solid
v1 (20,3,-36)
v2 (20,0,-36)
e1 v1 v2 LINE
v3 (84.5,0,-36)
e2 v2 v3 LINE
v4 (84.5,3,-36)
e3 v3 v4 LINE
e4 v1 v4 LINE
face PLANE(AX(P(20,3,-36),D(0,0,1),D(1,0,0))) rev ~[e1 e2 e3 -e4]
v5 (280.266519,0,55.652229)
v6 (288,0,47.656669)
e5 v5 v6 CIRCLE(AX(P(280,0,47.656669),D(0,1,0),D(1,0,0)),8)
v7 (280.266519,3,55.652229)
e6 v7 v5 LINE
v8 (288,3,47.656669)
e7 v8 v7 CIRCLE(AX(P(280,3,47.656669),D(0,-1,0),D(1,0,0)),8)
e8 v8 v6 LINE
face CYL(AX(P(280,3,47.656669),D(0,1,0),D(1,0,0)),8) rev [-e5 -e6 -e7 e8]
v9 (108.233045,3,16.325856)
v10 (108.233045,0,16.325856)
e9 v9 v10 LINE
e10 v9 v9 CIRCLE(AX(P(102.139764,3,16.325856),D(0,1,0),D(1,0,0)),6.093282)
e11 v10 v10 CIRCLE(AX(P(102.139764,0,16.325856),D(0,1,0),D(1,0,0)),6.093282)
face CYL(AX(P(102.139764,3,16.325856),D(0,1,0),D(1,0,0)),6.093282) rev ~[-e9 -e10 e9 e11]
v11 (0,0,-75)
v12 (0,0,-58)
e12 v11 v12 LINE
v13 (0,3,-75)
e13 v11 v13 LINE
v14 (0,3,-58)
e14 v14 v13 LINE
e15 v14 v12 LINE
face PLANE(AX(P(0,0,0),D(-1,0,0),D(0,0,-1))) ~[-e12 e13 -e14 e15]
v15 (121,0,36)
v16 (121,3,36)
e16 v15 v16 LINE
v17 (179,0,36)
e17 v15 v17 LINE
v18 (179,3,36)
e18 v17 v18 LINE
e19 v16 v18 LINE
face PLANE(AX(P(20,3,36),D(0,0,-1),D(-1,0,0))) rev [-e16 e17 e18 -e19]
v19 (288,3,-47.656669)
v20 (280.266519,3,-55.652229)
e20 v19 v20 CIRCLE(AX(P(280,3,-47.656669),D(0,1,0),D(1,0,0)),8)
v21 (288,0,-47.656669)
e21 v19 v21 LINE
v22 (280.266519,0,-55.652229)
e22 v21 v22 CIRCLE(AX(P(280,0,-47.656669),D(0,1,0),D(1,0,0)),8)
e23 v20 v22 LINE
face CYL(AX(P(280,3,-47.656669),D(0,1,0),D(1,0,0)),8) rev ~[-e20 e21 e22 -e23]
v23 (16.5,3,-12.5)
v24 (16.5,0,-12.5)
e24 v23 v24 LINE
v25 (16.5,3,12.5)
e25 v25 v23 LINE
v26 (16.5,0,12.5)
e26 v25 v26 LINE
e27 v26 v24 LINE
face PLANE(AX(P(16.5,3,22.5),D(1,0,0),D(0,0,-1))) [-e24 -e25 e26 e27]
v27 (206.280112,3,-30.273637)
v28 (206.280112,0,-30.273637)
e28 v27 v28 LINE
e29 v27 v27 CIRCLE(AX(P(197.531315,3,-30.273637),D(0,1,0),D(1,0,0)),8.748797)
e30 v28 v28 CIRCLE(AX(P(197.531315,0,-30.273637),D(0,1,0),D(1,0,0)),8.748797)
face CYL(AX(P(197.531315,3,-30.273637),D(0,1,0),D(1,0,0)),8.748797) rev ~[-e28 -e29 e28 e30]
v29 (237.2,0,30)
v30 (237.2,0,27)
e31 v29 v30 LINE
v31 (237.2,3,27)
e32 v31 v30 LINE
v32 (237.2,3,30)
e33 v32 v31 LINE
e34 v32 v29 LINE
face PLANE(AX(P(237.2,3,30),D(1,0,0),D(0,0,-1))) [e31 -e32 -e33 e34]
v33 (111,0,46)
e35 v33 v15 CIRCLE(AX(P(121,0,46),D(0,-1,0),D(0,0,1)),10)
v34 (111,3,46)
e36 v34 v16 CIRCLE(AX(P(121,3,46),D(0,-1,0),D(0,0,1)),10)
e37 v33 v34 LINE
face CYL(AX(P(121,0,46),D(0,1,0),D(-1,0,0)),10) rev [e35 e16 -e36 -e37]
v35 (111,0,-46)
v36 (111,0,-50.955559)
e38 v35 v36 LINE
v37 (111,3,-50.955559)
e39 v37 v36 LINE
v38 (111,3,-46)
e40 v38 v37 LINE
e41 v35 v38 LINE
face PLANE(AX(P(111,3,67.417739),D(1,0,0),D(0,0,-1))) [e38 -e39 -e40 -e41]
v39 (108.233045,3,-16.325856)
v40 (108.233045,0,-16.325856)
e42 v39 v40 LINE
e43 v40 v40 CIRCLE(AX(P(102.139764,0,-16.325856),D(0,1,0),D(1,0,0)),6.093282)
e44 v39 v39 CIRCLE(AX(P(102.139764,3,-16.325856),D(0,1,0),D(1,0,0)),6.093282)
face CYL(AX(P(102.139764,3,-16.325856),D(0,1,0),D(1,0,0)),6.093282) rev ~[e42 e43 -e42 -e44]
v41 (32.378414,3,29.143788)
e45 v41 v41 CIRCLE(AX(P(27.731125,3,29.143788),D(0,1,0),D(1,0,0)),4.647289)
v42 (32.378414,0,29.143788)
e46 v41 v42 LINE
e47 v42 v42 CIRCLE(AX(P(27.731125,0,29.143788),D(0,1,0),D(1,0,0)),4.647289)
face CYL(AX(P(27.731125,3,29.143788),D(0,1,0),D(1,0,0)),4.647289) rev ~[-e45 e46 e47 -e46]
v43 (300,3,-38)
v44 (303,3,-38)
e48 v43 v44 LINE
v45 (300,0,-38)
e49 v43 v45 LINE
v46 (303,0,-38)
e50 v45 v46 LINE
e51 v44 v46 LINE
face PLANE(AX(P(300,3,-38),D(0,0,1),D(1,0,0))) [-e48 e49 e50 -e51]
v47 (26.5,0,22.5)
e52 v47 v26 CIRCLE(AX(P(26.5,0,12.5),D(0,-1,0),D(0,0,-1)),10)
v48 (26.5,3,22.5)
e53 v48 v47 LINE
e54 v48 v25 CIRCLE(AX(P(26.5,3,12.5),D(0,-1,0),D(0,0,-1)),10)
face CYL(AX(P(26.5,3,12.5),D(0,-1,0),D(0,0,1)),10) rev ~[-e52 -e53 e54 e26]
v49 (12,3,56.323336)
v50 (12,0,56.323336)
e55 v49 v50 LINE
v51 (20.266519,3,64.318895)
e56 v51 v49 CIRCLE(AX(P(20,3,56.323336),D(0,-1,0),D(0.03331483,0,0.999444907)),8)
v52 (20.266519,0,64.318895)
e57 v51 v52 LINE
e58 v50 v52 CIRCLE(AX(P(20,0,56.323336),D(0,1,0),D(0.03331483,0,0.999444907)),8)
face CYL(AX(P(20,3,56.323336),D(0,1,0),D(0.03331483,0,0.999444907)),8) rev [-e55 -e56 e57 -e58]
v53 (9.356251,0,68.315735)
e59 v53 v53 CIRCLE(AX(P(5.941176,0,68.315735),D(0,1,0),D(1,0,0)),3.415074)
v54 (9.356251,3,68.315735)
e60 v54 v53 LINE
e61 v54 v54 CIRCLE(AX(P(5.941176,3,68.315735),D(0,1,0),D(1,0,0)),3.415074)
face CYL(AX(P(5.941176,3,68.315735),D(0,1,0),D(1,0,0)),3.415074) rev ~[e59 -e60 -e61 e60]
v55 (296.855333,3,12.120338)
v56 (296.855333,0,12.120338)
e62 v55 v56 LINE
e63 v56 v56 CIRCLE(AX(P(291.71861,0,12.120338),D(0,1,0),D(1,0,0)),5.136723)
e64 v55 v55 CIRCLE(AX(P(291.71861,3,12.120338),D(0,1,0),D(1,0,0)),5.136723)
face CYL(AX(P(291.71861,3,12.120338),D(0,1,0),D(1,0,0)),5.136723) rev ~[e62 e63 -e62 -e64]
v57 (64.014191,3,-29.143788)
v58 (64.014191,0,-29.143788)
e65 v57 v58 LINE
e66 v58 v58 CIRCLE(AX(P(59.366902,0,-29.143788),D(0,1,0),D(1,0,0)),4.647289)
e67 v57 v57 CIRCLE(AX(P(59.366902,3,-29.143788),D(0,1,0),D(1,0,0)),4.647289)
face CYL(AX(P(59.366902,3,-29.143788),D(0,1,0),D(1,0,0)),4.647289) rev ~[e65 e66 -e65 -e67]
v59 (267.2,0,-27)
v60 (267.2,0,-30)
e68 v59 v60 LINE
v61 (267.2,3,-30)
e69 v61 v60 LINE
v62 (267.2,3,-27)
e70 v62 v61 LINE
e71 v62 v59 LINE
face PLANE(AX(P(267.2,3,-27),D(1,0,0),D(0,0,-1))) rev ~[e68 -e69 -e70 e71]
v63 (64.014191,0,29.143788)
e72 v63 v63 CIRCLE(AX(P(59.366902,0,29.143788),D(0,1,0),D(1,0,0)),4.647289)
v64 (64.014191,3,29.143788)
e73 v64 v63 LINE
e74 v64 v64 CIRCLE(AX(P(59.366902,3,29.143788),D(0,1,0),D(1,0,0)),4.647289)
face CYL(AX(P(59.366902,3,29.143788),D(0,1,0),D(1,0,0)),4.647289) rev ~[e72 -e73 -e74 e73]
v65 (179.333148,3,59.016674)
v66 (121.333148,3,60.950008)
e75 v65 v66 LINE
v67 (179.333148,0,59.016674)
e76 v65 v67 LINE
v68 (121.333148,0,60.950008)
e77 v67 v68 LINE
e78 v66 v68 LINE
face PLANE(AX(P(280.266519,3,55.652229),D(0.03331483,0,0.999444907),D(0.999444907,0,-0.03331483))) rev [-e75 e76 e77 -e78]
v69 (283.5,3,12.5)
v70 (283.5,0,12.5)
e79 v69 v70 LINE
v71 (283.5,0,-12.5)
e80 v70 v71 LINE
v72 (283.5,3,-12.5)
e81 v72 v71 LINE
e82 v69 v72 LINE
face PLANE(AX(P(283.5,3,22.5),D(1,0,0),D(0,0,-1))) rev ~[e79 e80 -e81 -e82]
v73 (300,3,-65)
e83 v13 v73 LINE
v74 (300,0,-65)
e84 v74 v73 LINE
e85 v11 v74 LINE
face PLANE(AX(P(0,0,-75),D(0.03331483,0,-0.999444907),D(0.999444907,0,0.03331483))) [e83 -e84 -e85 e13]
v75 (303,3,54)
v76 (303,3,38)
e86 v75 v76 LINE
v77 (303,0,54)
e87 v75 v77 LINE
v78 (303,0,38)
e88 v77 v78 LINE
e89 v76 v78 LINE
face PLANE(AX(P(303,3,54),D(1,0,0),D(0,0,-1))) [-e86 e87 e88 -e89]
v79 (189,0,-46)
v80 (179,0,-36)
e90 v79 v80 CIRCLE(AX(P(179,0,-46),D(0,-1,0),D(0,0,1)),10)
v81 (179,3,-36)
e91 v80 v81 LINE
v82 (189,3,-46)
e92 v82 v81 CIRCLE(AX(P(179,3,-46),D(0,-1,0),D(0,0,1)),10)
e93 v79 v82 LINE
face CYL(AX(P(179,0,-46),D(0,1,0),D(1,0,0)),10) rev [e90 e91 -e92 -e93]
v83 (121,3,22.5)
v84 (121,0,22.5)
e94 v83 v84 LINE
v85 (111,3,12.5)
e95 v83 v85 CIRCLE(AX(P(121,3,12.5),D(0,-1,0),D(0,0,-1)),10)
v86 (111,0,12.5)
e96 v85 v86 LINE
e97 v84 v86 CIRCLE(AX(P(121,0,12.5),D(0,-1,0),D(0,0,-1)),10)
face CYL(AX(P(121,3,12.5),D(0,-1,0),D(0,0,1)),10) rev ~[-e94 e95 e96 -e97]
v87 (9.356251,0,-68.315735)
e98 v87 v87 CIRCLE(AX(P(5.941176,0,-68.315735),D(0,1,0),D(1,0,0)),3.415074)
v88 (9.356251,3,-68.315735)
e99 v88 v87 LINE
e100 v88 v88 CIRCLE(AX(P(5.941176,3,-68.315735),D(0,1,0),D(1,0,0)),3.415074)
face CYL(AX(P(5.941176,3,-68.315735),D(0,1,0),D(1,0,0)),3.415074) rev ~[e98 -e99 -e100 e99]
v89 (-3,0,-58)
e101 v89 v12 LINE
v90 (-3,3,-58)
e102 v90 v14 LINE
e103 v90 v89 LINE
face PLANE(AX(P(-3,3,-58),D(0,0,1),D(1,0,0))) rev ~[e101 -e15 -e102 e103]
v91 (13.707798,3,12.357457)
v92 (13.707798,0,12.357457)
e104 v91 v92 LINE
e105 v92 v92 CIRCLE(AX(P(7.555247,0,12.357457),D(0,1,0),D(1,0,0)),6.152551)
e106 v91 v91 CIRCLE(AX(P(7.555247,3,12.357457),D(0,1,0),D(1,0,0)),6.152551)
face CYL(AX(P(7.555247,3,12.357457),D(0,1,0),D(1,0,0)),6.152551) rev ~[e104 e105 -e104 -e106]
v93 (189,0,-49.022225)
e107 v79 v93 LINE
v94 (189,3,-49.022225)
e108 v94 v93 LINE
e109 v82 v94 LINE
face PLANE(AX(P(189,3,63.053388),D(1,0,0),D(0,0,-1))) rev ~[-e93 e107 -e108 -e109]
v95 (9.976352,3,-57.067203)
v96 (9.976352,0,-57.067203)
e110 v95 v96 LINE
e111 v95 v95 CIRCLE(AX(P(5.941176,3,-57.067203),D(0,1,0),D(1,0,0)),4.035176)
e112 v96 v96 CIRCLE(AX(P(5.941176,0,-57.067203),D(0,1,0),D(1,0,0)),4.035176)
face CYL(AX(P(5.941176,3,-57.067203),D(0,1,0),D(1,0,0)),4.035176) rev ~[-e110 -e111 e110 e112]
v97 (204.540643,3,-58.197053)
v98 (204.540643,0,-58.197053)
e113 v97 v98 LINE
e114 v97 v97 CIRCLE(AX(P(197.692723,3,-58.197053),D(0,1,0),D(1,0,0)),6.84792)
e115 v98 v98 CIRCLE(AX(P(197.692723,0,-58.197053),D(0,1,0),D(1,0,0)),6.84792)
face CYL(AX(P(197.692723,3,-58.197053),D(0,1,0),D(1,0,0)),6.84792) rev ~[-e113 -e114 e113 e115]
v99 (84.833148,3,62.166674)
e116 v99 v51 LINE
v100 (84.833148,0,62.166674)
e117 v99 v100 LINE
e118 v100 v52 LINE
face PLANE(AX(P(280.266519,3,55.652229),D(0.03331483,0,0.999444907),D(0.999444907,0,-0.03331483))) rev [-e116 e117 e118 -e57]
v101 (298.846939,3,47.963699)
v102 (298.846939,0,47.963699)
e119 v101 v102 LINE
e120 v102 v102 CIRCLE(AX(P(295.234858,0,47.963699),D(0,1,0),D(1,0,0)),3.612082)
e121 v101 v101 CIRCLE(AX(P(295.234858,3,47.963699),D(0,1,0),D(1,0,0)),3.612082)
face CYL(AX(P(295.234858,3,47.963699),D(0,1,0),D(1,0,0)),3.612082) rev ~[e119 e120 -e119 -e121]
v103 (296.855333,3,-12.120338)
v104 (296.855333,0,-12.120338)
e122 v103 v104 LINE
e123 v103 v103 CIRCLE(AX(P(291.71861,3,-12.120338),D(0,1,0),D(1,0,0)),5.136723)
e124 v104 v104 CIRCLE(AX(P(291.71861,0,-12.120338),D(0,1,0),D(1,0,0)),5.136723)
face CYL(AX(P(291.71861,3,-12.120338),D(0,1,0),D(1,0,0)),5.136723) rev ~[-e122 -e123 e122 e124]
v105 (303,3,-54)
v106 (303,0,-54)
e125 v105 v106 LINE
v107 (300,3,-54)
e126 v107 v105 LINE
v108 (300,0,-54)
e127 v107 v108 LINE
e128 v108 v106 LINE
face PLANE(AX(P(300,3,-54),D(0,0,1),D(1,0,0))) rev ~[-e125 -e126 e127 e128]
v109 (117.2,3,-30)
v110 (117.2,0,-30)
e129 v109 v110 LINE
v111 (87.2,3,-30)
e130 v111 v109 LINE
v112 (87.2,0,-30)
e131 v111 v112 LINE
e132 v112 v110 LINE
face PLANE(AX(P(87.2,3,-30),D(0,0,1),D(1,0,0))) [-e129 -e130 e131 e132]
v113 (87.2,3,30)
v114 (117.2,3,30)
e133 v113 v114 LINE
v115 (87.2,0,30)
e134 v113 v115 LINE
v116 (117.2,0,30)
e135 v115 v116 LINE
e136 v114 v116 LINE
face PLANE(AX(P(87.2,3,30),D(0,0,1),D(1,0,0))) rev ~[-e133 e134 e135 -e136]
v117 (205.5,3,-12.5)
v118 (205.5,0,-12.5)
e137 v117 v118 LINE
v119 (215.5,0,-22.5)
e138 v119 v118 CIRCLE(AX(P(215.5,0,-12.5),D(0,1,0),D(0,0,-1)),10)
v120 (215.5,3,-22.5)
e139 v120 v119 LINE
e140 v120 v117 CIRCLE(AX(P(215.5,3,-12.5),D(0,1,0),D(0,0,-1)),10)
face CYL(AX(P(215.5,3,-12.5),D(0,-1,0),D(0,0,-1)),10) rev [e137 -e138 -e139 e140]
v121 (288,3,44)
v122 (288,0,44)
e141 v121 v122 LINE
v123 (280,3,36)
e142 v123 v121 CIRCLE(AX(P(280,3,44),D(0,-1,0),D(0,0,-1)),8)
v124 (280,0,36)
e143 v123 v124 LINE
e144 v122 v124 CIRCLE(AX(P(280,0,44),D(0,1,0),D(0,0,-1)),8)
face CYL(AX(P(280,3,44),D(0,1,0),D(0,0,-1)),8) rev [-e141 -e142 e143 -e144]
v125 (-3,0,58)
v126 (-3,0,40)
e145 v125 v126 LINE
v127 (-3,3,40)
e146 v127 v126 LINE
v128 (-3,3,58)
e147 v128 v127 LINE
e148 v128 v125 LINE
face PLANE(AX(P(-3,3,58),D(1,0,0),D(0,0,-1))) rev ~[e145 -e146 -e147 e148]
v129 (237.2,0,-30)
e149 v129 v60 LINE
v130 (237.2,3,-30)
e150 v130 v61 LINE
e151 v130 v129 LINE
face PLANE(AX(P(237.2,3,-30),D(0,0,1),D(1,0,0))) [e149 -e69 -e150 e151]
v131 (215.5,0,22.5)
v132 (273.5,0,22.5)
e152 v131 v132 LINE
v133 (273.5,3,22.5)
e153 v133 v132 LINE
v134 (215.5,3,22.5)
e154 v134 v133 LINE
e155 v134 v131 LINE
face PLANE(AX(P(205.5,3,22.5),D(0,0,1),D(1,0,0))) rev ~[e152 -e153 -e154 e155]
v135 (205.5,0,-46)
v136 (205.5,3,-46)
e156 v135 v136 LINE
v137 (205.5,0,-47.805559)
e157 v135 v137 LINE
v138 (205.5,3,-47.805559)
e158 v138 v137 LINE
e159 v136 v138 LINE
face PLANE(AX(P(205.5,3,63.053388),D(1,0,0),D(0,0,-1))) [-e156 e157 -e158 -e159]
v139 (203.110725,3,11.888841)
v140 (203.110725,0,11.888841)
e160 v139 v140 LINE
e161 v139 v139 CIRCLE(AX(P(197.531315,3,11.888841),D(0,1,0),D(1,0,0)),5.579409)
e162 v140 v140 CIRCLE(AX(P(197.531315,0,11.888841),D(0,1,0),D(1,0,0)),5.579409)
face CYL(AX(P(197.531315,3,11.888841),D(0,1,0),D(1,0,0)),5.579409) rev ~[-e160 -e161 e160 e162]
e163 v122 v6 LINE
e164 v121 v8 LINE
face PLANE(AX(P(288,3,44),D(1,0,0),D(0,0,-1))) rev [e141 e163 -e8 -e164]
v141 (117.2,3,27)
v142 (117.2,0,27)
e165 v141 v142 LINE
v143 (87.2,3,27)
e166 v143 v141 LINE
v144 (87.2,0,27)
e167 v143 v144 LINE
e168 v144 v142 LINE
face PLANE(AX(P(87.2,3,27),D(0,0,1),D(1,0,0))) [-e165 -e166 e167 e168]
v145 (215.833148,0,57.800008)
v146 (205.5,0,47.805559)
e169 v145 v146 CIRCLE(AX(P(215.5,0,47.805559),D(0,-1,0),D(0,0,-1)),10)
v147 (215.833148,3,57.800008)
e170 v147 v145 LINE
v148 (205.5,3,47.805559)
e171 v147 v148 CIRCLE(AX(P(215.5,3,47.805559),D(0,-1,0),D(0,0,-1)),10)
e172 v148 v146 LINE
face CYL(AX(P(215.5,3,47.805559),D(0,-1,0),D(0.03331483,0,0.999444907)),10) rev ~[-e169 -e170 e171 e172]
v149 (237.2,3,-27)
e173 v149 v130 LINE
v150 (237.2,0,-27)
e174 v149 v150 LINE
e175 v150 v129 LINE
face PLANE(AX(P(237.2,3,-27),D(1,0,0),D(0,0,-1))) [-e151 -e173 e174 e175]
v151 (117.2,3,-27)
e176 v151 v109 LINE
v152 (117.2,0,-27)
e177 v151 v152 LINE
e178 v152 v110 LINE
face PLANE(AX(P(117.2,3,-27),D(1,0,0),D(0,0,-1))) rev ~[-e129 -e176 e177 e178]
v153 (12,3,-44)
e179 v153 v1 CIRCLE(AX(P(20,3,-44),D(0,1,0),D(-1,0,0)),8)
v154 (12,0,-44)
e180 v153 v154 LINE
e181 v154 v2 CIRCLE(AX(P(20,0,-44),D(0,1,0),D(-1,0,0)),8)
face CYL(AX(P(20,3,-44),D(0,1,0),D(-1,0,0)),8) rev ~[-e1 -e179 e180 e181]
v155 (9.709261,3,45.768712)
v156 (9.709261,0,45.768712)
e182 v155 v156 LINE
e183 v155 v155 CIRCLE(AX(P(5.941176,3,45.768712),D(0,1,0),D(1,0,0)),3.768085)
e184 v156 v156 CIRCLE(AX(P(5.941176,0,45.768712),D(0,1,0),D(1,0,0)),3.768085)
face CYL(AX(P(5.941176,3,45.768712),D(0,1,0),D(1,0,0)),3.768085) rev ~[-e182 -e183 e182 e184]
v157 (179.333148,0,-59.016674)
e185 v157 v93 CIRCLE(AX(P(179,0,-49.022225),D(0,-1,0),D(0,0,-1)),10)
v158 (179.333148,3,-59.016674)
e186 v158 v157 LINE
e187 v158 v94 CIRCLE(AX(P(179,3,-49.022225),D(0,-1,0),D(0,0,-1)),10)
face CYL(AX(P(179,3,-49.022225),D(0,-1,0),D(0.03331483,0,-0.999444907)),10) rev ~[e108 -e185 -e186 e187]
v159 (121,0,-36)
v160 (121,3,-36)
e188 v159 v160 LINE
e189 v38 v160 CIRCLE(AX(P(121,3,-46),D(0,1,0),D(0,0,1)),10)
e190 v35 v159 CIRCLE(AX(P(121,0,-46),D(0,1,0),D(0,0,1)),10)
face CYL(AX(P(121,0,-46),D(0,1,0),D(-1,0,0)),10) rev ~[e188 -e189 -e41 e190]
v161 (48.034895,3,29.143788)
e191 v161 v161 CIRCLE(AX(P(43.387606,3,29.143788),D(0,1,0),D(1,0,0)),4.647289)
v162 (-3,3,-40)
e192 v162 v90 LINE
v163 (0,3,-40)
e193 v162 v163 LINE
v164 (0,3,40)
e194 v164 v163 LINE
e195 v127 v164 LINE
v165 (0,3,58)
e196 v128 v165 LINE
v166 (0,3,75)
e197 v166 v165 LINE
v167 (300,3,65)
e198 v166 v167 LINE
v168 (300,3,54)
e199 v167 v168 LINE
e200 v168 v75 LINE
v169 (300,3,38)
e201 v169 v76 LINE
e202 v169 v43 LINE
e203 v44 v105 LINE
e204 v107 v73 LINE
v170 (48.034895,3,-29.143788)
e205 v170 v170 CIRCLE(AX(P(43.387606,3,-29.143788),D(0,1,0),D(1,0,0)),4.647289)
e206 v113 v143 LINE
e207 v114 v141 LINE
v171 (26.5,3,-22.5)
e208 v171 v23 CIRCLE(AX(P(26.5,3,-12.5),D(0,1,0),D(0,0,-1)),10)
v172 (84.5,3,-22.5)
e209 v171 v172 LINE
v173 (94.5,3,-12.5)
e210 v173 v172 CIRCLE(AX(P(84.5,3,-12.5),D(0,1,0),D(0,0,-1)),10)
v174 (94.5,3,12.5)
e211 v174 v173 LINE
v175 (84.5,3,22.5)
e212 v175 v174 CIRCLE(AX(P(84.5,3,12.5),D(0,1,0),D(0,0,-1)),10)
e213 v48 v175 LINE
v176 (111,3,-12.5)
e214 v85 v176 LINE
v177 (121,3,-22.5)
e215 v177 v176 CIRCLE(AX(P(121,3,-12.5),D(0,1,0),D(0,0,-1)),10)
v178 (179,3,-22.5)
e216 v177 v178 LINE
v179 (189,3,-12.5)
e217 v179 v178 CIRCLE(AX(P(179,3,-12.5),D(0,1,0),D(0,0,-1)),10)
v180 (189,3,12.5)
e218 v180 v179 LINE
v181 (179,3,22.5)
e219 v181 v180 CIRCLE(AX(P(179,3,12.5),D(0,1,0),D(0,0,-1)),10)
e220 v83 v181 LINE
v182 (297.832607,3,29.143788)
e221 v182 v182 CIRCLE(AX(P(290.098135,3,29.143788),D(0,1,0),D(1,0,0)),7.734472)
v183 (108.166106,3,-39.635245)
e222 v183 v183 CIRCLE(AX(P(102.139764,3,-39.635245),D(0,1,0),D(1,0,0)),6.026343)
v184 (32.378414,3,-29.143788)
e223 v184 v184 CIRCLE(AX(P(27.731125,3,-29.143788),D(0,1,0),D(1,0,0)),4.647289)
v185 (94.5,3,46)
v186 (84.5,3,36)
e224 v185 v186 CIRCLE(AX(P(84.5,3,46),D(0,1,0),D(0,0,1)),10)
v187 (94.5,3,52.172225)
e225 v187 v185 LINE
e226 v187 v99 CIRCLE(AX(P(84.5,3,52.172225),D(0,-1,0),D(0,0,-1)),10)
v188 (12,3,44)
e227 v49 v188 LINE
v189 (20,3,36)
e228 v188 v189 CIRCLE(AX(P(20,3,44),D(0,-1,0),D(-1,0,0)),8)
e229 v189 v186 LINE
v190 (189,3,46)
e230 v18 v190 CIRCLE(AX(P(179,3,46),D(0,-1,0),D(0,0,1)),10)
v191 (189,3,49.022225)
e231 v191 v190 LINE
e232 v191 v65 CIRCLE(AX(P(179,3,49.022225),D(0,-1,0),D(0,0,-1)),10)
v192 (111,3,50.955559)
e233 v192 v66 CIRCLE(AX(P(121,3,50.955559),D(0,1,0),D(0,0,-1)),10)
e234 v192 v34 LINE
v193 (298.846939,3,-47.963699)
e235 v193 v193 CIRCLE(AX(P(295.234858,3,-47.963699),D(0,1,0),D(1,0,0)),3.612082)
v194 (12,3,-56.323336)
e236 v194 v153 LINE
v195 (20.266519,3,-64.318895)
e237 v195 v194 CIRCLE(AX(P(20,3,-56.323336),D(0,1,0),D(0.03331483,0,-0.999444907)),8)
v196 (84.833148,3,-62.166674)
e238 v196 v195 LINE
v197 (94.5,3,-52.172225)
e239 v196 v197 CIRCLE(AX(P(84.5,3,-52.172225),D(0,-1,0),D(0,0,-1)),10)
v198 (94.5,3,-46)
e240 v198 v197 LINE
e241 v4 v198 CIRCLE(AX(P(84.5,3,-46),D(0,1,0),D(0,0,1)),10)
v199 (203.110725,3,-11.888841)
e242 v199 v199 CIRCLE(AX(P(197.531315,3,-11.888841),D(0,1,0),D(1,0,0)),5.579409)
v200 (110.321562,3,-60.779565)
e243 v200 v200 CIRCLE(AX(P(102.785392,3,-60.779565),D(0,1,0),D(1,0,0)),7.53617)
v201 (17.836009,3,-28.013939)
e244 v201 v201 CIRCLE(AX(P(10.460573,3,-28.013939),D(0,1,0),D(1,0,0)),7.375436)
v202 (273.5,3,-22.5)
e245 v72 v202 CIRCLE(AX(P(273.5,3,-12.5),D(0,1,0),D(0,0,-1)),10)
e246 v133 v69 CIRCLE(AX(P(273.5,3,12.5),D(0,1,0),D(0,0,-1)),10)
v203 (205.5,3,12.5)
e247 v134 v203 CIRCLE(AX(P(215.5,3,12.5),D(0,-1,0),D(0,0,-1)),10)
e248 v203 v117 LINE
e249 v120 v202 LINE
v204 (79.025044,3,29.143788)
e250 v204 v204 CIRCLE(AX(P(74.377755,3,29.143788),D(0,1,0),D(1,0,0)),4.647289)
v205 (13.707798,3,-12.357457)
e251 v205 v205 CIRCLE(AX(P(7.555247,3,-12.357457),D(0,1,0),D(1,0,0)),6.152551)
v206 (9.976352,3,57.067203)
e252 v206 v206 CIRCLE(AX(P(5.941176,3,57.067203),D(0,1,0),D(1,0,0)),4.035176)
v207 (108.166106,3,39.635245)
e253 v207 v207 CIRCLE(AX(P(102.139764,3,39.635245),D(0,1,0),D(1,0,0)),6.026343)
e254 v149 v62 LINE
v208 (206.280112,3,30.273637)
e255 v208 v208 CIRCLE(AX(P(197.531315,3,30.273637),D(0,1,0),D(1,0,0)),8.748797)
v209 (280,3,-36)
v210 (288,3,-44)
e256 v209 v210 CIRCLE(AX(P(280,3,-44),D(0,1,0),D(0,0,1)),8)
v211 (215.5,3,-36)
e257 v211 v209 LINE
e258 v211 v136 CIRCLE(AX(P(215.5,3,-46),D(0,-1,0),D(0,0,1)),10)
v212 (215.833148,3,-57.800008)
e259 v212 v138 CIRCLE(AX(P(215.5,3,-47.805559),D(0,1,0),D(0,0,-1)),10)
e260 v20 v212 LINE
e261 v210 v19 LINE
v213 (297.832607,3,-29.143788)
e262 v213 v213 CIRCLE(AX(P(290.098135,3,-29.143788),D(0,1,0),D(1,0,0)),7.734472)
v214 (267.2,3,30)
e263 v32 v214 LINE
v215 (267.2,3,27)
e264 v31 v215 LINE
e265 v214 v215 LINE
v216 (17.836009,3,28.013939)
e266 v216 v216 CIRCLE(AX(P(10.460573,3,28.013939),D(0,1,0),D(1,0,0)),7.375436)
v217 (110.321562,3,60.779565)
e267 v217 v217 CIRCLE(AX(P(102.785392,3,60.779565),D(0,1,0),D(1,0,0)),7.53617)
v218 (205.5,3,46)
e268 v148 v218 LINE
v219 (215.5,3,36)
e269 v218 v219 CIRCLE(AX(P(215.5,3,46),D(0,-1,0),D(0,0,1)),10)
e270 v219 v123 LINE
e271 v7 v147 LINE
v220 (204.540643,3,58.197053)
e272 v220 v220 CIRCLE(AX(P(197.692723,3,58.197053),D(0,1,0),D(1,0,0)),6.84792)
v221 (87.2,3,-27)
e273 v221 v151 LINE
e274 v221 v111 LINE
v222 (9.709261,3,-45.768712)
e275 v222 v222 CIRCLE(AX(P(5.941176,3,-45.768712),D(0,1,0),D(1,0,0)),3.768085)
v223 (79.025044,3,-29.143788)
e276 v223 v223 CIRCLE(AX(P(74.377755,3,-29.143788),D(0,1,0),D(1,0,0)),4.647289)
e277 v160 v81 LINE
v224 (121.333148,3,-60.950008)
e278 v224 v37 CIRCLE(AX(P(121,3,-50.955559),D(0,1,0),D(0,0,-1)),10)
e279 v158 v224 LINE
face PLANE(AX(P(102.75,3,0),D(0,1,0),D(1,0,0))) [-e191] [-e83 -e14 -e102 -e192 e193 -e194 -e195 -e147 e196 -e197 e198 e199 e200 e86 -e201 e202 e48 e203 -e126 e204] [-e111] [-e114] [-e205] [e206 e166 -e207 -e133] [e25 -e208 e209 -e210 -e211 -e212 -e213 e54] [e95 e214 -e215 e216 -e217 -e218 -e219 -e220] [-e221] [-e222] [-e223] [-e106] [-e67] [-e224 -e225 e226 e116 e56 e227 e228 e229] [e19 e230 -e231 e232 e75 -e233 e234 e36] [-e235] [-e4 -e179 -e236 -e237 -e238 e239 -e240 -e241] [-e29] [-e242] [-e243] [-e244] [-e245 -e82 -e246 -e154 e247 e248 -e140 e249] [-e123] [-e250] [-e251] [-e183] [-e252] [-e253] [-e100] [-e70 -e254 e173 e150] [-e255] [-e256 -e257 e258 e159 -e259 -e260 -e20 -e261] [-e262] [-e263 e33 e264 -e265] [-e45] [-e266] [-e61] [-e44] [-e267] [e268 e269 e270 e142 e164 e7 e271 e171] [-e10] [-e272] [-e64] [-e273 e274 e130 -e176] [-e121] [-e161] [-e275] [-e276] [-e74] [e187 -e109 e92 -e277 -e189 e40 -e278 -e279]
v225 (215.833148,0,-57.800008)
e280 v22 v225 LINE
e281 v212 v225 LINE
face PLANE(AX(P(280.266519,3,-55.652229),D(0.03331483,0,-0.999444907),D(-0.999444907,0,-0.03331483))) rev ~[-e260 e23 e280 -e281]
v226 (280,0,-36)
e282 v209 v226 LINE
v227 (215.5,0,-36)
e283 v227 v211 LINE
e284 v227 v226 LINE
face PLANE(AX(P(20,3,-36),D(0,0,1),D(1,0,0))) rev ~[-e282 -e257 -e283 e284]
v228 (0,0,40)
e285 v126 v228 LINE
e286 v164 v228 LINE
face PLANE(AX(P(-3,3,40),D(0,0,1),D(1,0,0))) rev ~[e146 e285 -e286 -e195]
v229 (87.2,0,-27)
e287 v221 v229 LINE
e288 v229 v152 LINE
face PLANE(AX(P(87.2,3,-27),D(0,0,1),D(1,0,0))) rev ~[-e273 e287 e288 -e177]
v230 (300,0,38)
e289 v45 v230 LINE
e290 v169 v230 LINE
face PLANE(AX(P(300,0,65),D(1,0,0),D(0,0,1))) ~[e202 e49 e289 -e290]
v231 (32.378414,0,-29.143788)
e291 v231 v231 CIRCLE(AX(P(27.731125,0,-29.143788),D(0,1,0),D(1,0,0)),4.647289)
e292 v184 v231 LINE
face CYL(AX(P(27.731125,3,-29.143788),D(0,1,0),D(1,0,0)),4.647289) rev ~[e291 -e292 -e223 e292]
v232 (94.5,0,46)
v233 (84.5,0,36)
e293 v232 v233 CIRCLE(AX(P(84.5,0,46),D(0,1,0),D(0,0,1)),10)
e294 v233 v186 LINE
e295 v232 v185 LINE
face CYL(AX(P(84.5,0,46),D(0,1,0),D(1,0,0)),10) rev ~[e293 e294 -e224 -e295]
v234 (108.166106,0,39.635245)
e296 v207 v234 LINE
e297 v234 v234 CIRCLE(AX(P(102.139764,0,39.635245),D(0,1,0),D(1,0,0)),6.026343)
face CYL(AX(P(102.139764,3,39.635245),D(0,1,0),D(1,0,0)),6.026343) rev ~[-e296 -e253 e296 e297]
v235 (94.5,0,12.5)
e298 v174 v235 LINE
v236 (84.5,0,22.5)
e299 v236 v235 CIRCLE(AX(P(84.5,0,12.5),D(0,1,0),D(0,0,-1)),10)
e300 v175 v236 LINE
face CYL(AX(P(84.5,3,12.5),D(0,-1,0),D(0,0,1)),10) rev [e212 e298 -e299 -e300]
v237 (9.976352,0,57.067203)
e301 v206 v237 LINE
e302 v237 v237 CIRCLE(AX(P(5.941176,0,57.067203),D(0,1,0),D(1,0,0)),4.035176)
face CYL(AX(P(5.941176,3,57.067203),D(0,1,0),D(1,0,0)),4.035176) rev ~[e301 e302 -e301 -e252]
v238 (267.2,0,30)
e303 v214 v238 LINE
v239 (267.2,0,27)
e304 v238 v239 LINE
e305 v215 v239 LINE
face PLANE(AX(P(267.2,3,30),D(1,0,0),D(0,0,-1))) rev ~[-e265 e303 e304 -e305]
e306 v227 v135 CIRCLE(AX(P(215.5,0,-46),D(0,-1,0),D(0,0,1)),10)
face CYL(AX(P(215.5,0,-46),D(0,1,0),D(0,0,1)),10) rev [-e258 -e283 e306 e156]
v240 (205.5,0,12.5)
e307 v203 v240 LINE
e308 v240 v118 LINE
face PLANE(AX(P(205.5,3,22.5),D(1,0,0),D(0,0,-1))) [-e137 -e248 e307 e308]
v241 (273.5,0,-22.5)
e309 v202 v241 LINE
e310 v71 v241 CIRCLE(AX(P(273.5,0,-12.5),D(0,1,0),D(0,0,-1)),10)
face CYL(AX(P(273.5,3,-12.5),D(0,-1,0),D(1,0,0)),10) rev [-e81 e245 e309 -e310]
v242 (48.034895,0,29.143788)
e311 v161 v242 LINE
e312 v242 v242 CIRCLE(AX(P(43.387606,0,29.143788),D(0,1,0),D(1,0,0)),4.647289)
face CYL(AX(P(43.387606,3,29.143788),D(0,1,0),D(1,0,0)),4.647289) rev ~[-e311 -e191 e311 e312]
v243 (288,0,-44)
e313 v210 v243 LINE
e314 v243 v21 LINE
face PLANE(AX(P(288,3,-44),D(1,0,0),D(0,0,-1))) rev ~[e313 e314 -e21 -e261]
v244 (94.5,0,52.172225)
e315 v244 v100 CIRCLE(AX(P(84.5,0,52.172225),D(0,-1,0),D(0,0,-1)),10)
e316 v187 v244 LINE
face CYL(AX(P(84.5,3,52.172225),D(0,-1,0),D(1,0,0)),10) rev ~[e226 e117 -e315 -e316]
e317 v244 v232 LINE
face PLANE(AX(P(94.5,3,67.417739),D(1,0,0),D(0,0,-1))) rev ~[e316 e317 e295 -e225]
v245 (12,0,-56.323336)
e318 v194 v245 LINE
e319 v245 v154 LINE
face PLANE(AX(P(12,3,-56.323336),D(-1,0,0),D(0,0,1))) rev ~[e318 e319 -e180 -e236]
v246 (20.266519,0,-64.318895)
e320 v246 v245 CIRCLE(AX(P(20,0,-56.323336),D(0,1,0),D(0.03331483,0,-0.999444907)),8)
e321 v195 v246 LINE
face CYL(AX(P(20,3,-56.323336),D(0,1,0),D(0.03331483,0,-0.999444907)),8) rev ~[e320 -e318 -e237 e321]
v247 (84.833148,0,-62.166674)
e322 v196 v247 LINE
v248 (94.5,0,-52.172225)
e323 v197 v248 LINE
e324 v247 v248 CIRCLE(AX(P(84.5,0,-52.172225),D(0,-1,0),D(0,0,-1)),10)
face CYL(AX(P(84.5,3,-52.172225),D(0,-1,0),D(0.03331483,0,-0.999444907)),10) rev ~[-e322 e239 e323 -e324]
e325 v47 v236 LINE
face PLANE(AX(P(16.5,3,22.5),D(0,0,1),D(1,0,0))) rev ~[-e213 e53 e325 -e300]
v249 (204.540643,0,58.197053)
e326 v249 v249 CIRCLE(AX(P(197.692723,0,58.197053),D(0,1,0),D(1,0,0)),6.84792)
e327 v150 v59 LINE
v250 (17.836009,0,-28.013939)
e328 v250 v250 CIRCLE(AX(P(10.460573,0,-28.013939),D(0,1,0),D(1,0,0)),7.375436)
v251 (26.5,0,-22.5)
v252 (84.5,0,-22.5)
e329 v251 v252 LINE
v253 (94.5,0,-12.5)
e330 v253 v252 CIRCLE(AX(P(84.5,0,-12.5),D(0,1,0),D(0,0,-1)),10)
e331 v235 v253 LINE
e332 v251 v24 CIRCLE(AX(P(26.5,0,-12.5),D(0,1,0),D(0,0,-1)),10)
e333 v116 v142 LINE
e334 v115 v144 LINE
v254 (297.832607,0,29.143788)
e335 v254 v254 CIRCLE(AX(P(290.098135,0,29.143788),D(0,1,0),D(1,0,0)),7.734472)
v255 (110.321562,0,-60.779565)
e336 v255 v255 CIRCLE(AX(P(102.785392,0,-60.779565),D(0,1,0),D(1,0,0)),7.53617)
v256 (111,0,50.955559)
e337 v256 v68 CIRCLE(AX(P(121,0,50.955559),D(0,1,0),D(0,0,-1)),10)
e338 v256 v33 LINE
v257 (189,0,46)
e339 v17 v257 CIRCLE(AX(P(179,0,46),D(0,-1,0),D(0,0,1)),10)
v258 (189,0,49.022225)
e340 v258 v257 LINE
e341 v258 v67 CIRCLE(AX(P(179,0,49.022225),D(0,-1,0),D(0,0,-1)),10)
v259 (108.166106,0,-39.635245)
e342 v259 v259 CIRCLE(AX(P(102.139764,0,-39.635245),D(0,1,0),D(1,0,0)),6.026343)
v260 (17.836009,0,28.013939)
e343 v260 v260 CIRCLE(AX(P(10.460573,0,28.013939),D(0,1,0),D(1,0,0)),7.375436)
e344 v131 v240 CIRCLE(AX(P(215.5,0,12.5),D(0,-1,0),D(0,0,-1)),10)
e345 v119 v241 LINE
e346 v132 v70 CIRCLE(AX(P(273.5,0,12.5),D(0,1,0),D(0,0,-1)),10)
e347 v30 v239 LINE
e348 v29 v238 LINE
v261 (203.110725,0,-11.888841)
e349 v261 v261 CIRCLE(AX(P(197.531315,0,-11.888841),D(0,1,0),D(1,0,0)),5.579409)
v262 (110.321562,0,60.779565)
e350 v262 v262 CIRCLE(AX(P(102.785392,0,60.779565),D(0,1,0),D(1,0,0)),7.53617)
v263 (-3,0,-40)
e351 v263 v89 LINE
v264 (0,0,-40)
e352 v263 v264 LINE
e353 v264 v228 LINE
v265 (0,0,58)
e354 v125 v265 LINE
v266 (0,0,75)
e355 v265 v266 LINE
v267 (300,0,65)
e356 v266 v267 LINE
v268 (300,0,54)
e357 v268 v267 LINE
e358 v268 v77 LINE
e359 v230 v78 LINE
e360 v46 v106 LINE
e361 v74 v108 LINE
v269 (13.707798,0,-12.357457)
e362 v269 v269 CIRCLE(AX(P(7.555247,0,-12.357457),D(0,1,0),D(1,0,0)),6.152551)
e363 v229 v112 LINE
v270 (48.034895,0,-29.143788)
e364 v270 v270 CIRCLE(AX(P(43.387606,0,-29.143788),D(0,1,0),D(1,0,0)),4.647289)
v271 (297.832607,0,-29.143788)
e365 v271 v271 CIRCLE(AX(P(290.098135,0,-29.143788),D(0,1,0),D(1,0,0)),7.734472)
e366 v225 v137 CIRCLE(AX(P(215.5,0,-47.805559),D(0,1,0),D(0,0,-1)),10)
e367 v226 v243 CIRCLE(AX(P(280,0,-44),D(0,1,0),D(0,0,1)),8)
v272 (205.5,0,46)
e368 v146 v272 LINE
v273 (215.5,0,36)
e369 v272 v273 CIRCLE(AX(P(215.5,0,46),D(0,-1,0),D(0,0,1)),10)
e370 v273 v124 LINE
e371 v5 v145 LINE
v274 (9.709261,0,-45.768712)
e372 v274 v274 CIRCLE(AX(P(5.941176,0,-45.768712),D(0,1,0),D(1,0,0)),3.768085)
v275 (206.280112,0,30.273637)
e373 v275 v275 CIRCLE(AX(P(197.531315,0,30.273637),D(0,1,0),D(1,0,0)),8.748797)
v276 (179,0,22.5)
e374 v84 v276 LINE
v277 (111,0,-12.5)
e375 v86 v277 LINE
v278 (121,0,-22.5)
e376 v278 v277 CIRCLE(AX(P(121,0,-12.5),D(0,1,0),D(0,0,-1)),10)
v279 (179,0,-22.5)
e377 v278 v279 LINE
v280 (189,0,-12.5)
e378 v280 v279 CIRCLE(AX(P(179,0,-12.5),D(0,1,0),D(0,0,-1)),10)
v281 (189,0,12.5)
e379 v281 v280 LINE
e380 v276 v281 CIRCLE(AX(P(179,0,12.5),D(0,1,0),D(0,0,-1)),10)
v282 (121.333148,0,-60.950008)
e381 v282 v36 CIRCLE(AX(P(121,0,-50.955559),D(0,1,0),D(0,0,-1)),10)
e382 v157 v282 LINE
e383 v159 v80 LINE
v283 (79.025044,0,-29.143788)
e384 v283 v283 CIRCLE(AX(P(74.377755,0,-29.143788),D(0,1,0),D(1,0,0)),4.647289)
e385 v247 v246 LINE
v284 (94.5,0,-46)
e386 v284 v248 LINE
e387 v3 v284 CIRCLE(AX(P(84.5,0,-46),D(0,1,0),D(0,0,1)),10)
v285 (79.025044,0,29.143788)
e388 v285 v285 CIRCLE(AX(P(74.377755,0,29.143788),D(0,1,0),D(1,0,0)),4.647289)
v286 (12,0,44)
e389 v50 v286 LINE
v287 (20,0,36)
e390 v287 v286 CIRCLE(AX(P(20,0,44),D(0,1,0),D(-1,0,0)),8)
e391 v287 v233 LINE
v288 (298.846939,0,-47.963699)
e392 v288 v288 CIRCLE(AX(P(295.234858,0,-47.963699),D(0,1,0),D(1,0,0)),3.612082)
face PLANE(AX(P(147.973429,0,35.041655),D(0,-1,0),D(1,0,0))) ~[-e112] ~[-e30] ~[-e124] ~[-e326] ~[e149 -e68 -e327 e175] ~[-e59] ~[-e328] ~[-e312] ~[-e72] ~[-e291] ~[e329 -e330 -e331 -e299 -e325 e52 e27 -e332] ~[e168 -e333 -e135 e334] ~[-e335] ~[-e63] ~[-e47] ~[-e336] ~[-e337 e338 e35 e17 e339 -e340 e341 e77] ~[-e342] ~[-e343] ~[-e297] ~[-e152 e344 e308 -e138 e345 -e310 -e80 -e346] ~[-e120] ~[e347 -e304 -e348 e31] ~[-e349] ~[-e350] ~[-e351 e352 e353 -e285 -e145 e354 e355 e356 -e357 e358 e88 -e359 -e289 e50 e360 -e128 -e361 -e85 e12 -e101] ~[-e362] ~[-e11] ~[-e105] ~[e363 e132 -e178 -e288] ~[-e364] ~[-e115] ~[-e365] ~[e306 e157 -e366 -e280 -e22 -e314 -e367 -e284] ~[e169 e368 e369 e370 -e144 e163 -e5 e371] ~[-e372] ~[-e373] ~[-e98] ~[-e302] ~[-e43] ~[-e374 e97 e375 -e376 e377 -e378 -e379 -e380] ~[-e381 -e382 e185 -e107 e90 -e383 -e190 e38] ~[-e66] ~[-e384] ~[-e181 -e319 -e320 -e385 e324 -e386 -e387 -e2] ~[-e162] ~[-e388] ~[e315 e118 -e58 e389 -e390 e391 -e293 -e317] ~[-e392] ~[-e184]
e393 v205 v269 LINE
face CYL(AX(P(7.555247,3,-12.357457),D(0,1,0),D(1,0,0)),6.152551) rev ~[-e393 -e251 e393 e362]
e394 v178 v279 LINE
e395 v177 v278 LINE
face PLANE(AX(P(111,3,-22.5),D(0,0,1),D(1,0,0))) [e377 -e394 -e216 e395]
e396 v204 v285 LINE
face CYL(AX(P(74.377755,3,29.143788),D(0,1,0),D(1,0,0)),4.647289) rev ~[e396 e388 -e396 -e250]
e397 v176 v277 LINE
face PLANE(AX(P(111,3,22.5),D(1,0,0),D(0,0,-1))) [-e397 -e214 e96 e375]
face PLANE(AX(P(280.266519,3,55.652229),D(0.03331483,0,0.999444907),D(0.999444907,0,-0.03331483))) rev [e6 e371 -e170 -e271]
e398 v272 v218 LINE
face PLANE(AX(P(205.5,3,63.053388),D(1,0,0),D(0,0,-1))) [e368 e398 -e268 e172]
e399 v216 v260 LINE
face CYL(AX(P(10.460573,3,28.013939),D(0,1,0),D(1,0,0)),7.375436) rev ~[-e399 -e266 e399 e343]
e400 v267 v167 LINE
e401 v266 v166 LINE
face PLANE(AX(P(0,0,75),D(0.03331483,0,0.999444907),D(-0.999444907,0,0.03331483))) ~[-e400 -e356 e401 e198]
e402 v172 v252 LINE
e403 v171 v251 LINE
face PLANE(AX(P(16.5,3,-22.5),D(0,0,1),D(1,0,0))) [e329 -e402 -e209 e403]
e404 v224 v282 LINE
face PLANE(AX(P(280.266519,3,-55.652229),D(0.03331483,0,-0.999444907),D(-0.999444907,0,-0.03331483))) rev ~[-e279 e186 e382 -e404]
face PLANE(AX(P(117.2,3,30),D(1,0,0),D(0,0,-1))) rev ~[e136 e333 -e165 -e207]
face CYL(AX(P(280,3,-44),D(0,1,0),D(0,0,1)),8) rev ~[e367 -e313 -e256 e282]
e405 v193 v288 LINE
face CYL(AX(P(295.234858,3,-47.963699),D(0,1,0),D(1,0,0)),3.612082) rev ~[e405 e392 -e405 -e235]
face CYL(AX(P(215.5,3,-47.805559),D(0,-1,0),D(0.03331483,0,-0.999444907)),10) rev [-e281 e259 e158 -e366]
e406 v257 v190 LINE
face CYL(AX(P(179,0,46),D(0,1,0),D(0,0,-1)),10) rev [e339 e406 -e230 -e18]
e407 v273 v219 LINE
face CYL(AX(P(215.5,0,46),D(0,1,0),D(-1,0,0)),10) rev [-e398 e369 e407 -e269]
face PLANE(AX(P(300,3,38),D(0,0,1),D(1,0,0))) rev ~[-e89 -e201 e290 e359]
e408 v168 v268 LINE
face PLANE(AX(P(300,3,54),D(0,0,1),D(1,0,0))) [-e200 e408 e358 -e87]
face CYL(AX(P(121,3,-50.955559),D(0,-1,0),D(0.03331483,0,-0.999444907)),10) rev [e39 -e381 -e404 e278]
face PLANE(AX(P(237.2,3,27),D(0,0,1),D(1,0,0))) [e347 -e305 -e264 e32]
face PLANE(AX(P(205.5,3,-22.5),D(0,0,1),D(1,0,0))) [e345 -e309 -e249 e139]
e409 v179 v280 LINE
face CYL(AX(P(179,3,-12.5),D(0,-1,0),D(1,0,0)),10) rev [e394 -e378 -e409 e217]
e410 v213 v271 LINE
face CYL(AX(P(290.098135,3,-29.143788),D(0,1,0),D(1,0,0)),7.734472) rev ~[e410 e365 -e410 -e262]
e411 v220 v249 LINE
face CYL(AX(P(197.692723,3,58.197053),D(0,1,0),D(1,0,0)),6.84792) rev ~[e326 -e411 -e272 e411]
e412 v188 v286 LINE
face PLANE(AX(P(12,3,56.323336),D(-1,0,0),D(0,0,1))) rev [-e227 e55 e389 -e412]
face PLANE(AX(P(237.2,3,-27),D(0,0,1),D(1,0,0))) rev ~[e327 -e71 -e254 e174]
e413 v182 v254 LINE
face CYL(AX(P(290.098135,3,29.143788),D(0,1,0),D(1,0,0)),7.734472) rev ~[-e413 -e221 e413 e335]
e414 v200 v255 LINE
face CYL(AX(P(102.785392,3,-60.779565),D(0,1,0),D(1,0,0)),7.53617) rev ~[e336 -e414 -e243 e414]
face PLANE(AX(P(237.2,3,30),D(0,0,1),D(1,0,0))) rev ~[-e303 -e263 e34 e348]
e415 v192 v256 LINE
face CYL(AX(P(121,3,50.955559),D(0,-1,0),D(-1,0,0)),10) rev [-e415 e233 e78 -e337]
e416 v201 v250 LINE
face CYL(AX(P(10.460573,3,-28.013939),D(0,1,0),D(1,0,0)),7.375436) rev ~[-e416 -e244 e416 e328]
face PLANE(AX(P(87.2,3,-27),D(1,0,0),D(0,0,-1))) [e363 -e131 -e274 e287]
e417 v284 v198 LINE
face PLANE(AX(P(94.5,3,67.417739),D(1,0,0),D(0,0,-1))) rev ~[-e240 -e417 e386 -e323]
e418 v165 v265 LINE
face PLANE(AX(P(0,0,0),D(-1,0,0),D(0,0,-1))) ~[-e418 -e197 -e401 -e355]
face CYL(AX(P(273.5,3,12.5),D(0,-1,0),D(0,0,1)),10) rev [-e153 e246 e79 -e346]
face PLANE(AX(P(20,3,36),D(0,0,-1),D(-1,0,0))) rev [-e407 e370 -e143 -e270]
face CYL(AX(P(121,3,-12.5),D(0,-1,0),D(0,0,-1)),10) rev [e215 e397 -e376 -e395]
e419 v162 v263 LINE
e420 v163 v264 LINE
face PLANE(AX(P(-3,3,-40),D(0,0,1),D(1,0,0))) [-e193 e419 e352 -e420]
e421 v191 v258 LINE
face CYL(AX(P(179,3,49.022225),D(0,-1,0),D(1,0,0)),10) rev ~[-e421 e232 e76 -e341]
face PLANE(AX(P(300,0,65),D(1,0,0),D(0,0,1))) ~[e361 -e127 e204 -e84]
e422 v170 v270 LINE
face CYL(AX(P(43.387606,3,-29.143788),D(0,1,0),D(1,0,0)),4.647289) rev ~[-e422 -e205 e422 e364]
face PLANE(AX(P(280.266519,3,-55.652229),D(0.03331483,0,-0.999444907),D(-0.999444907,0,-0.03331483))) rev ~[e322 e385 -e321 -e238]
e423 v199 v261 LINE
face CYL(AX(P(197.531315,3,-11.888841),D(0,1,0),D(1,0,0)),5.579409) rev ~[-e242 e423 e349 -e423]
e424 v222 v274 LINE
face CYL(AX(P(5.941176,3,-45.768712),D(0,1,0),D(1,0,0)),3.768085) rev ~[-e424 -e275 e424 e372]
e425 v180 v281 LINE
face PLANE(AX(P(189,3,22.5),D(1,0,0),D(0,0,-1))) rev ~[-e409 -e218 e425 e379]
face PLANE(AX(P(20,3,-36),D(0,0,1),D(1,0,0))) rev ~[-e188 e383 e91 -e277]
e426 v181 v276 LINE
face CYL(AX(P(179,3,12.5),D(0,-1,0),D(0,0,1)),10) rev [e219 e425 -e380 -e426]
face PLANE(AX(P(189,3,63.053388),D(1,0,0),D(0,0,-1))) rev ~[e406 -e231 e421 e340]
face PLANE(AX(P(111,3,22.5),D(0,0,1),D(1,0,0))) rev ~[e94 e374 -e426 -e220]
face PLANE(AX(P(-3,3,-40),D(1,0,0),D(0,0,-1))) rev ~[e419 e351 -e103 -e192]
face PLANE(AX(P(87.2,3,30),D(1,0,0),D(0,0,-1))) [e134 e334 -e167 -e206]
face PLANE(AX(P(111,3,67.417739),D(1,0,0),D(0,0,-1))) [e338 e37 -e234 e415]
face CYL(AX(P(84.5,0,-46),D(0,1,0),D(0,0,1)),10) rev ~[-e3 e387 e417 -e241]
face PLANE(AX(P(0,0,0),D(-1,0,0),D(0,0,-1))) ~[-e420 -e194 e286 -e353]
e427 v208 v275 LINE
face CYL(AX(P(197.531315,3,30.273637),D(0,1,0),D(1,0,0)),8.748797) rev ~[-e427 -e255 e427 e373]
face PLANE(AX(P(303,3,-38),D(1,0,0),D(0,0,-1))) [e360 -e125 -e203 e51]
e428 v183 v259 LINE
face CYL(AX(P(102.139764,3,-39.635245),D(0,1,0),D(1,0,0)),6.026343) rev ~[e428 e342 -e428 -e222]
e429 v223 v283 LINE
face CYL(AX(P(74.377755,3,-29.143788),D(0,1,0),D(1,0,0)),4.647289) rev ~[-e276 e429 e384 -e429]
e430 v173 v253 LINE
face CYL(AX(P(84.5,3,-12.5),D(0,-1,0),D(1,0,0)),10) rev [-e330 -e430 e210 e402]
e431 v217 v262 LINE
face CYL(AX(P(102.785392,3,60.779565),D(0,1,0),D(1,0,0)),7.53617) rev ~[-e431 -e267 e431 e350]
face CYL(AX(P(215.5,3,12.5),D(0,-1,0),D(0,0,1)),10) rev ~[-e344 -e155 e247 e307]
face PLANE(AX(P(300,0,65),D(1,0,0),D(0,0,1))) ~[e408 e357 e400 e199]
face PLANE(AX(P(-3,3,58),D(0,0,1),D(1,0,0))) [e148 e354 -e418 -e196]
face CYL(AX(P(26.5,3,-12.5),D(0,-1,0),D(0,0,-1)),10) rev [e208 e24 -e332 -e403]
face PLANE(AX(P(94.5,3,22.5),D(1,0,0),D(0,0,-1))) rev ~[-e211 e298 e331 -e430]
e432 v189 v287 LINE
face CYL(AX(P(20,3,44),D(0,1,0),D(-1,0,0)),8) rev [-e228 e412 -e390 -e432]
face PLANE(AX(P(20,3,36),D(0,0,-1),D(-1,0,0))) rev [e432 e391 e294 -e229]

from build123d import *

# Parameters (mm, degrees)
BOSS_EXTRUDE1_DEPTH = 3
SKETCH2_W           = 78
SKETCH2_H           = 45
CUT_EXTRUDE1_DEPTH  = 10
FILLET1_R           = 10
CUT_EXTRUDE2_DEPTH  = 10
SKETCH4_W           = 16.5
SKETCH4_H           = 134.835477832
SKETCH4_H_2         = 126.10677569
BOSS_EXTRUDE2_DEPTH = 3
FILLET2_R           = 10
FILLET3_R           = 10
SKETCH5_W           = 3
SKETCH5_H           = 16
SKETCH5_H_2         = 18
BOSS_EXTRUDE3_DEPTH = 3
SKETCH6_W           = 30
SKETCH6_H           = 3
CUT_EXTRUDE3_DEPTH  = 10
SKETCH7_R           = 7.375435698
SKETCH7_R_2         = 6.026342639
SKETCH7_R_3         = 7.536169895
SKETCH7_R_4         = 8.748796797
SKETCH7_R_5         = 6.84792013
SKETCH7_R_6         = 3.415074188
SKETCH7_R_7         = 4.035175634
SKETCH7_R_8         = 3.768084948
SKETCH7_R_9         = 6.152551264
SKETCH7_R_10        = 4.647289197
SKETCH7_R_11        = 6.093281567
SKETCH7_R_12        = 5.579409228
SKETCH7_R_13        = 7.734472057
SKETCH7_R_14        = 5.13672287
SKETCH7_R_15        = 3.6120817
CUT_EXTRUDE4_DEPTH  = 10


with BuildPart() as part:
    # Sketch1 → Boss-Extrude1 (new body)
    with BuildSketch(Plane(origin=(0, 0, 0), x_dir=(1, 0, 0), z_dir=(0, 1, 0))):
        Polygon((0, 0), (0, 75.000000004), (300, 65), (300, 0), align=None)
    boss_extrude1 = extrude(amount=BOSS_EXTRUDE1_DEPTH)

    # Mirror1: Boss-Extrude1 across Front Plane
    add(boss_extrude1.mirror(Plane.XY))

    # Sketch2 → Cut-Extrude1 (cut)
    with BuildSketch(Plane(origin=(0, 3, 0), x_dir=(1, 0, 0), z_dir=(0, 1, 0))):
        with Locations((55.5, 0)):
            Rectangle(SKETCH2_W, SKETCH2_H)
        with Locations((150, 0)):
            Rectangle(SKETCH2_W, SKETCH2_H)
        with Locations((244.5, 0)):
            Rectangle(SKETCH2_W, SKETCH2_H)
    extrude(amount=-CUT_EXTRUDE1_DEPTH, mode=Mode.SUBTRACT)

    # Fillet1
    fillet1_edges = [part.edges().sort_by_distance(p)[0] for p in [
        (16.5, 1.5, 22.5),
        (16.5, 1.5, -22.5),
        (94.5, 1.5, -22.5),
        (94.5, 1.5, 22.5),
        (111, 1.5, 22.5),
        (111, 1.5, -22.5),
        (189, 1.5, -22.5),
        (189, 1.5, 22.5),
        (205.5, 1.5, 22.5),
        (205.5, 1.5, -22.5),
        (283.5, 1.5, -22.5),
        (283.5, 1.5, 22.5),
    ]]
    fillet(fillet1_edges, radius=FILLET1_R)

    # Sketch3 → Cut-Extrude2 (cut)
    with BuildSketch(Plane(origin=(0, 3, 0), x_dir=(1, 0, 0), z_dir=(0, 1, 0))):
        with BuildLine():
            Line((12, 56.323336113), (12, 44))
            ThreePointArc((12, 44), (14.343145751, 38.343145751), (20, 36))
            Line((20, 36), (280, 36))
            ThreePointArc((280, 36), (285.656854249, 38.343145751), (288, 44))
            Line((288, 44), (288, 47.656669443))
            ThreePointArc((288, 47.656669443), (285.750310824, 53.218496969), (280.266518642, 55.652228699))
            Line((280.266518642, 55.652228699), (20.266518642, 64.318895369))
            ThreePointArc((20.266518642, 64.318895369), (14.438172474, 62.073646937), (12, 56.323336113))
        make_face()
    cut_extrude2 = extrude(amount=-CUT_EXTRUDE2_DEPTH, mode=Mode.SUBTRACT)

    # Mirror2: Cut-Extrude2 across plane
    add(cut_extrude2.mirror(Plane.XY), mode=Mode.SUBTRACT)

    # Sketch4 → Boss-Extrude2 (add)
    with BuildSketch(Plane(origin=(0, 3, 0), x_dir=(1, 0, 0), z_dir=(0, 1, 0))):
        with Locations((102.75, 0)):
            Rectangle(SKETCH4_W, SKETCH4_H)
        with Locations((197.25, 0)):
            Rectangle(SKETCH4_W, SKETCH4_H_2)
    extrude(amount=-BOSS_EXTRUDE2_DEPTH)

    # Fillet2
    fillet2_edges = [part.edges().sort_by_distance(p)[0] for p in [
        (111, 1.5, -36),
        (111, 1.5, -61.294445989),
        (94.5, 1.5, -36),
        (94.5, 1.5, -61.844445989),
        (189, 1.5, -36),
        (205.5, 1.5, -36),
        (205.5, 1.5, -58.144445988),
        (189, 1.5, -58.694445988),
    ]]
    fillet(fillet2_edges, radius=FILLET2_R)

    # Fillet3
    fillet3_edges = [part.edges().sort_by_distance(p)[0] for p in [
        (94.5, 1.5, 36),
        (111, 1.5, 36),
        (111, 1.5, 61.294445989),
        (94.5, 1.5, 61.844445989),
        (189, 1.5, 58.694445988),
        (189, 1.5, 36),
        (205.5, 1.5, 58.144445988),
        (205.5, 1.5, 36),
    ]]
    fillet(fillet3_edges, radius=FILLET3_R)

    # Sketch5 → Boss-Extrude3 (add)
    with BuildSketch(Plane(origin=(0, 3, 0), x_dir=(1, 0, 0), z_dir=(0, 1, 0))):
        with Locations((301.5, 46)):
            Rectangle(SKETCH5_W, SKETCH5_H)
        with Locations((-1.5, 49)):
            Rectangle(SKETCH5_W, SKETCH5_H_2)
        with Locations((301.5, -46)):
            Rectangle(SKETCH5_W, SKETCH5_H)
        with Locations((-1.5, -49)):
            Rectangle(SKETCH5_W, SKETCH5_H_2)
    extrude(amount=-BOSS_EXTRUDE3_DEPTH)

    # Sketch6 → Cut-Extrude3 (cut)
    with BuildSketch(Plane(origin=(0, 3, 0), x_dir=(1, 0, 0), z_dir=(0, 1, 0))):
        with Locations((102.2, 28.5)):
            Rectangle(SKETCH6_W, SKETCH6_H)
        with Locations((252.2, 28.5)):
            Rectangle(SKETCH6_W, SKETCH6_H)
        with Locations((252.2, -28.5)):
            Rectangle(SKETCH6_W, SKETCH6_H)
        with Locations((102.2, -28.5)):
            Rectangle(SKETCH6_W, SKETCH6_H)
    extrude(amount=-CUT_EXTRUDE3_DEPTH, mode=Mode.SUBTRACT)

    # Sketch7 → Cut-Extrude4 (cut)
    with BuildSketch(Plane(origin=(0, 3, 0), x_dir=(1, 0, 0), z_dir=(0, 1, 0))):
        with Locations((10.460573095, 28.013938864)):
            Circle(SKETCH7_R)
        with Locations((102.139763505, 39.635244691)):
            Circle(SKETCH7_R_2)
        with Locations((102.785391607, 60.779565014)):
            Circle(SKETCH7_R_3)
        with Locations((197.531315499, 30.273637219)):
            Circle(SKETCH7_R_4)
        with Locations((197.692722525, 58.197052608)):
            Circle(SKETCH7_R_5)
        with Locations((5.941176384, 68.31573491)):
            Circle(SKETCH7_R_6)
        with Locations((5.941176384, 57.067203431)):
            Circle(SKETCH7_R_7)
        with Locations((5.941176384, 45.768711655)):
            Circle(SKETCH7_R_8)
        with Locations((7.555246638, 12.357457403)):
            Circle(SKETCH7_R_9)
        with Locations((27.731124809, 29.143788042)):
            Circle(SKETCH7_R_10)
        with Locations((43.38760627, 29.143788042)):
            Circle(SKETCH7_R_10)
        with Locations((59.366901782, 29.143788042)):
            Circle(SKETCH7_R_10)
        with Locations((74.377755141, 29.143788042)):
            Circle(SKETCH7_R_10)
        with Locations((102.139763505, 16.325855723)):
            Circle(SKETCH7_R_11)
        with Locations((197.531315499, 11.888841158)):
            Circle(SKETCH7_R_12)
        with Locations((290.098134793, 29.143788042)):
            Circle(SKETCH7_R_13)
        with Locations((291.718609677, 12.12033757)):
            Circle(SKETCH7_R_14)
        with Locations((295.234857663, 47.963698705)):
            Circle(SKETCH7_R_15)
        with Locations((295.234857663, -47.963698705)):
            Circle(SKETCH7_R_15)
        with Locations((291.718609677, -12.12033757)):
            Circle(SKETCH7_R_14)
        with Locations((290.098134793, -29.143788042)):
            Circle(SKETCH7_R_13)
        with Locations((197.531315499, -11.888841158)):
            Circle(SKETCH7_R_12)
        with Locations((102.139763505, -16.325855723)):
            Circle(SKETCH7_R_11)
        with Locations((74.377755141, -29.143788042)):
            Circle(SKETCH7_R_10)
        with Locations((59.366901782, -29.143788042)):
            Circle(SKETCH7_R_10)
        with Locations((43.38760627, -29.143788042)):
            Circle(SKETCH7_R_10)
        with Locations((27.731124809, -29.143788042)):
            Circle(SKETCH7_R_10)
        with Locations((7.555246638, -12.357457403)):
            Circle(SKETCH7_R_9)
        with Locations((5.941176384, -45.768711655)):
            Circle(SKETCH7_R_8)
        with Locations((5.941176384, -57.067203431)):
            Circle(SKETCH7_R_7)
        with Locations((5.941176384, -68.31573491)):
            Circle(SKETCH7_R_6)
        with Locations((197.692722525, -58.197052608)):
            Circle(SKETCH7_R_5)
        with Locations((197.531315499, -30.273637219)):
            Circle(SKETCH7_R_4)
        with Locations((102.785391607, -60.779565014)):
            Circle(SKETCH7_R_3)
        with Locations((102.139763505, -39.635244691)):
            Circle(SKETCH7_R_2)
        with Locations((10.460573095, -28.013938864)):
            Circle(SKETCH7_R)
    extrude(amount=-CUT_EXTRUDE4_DEPTH, mode=Mode.SUBTRACT)


solid = part.part
